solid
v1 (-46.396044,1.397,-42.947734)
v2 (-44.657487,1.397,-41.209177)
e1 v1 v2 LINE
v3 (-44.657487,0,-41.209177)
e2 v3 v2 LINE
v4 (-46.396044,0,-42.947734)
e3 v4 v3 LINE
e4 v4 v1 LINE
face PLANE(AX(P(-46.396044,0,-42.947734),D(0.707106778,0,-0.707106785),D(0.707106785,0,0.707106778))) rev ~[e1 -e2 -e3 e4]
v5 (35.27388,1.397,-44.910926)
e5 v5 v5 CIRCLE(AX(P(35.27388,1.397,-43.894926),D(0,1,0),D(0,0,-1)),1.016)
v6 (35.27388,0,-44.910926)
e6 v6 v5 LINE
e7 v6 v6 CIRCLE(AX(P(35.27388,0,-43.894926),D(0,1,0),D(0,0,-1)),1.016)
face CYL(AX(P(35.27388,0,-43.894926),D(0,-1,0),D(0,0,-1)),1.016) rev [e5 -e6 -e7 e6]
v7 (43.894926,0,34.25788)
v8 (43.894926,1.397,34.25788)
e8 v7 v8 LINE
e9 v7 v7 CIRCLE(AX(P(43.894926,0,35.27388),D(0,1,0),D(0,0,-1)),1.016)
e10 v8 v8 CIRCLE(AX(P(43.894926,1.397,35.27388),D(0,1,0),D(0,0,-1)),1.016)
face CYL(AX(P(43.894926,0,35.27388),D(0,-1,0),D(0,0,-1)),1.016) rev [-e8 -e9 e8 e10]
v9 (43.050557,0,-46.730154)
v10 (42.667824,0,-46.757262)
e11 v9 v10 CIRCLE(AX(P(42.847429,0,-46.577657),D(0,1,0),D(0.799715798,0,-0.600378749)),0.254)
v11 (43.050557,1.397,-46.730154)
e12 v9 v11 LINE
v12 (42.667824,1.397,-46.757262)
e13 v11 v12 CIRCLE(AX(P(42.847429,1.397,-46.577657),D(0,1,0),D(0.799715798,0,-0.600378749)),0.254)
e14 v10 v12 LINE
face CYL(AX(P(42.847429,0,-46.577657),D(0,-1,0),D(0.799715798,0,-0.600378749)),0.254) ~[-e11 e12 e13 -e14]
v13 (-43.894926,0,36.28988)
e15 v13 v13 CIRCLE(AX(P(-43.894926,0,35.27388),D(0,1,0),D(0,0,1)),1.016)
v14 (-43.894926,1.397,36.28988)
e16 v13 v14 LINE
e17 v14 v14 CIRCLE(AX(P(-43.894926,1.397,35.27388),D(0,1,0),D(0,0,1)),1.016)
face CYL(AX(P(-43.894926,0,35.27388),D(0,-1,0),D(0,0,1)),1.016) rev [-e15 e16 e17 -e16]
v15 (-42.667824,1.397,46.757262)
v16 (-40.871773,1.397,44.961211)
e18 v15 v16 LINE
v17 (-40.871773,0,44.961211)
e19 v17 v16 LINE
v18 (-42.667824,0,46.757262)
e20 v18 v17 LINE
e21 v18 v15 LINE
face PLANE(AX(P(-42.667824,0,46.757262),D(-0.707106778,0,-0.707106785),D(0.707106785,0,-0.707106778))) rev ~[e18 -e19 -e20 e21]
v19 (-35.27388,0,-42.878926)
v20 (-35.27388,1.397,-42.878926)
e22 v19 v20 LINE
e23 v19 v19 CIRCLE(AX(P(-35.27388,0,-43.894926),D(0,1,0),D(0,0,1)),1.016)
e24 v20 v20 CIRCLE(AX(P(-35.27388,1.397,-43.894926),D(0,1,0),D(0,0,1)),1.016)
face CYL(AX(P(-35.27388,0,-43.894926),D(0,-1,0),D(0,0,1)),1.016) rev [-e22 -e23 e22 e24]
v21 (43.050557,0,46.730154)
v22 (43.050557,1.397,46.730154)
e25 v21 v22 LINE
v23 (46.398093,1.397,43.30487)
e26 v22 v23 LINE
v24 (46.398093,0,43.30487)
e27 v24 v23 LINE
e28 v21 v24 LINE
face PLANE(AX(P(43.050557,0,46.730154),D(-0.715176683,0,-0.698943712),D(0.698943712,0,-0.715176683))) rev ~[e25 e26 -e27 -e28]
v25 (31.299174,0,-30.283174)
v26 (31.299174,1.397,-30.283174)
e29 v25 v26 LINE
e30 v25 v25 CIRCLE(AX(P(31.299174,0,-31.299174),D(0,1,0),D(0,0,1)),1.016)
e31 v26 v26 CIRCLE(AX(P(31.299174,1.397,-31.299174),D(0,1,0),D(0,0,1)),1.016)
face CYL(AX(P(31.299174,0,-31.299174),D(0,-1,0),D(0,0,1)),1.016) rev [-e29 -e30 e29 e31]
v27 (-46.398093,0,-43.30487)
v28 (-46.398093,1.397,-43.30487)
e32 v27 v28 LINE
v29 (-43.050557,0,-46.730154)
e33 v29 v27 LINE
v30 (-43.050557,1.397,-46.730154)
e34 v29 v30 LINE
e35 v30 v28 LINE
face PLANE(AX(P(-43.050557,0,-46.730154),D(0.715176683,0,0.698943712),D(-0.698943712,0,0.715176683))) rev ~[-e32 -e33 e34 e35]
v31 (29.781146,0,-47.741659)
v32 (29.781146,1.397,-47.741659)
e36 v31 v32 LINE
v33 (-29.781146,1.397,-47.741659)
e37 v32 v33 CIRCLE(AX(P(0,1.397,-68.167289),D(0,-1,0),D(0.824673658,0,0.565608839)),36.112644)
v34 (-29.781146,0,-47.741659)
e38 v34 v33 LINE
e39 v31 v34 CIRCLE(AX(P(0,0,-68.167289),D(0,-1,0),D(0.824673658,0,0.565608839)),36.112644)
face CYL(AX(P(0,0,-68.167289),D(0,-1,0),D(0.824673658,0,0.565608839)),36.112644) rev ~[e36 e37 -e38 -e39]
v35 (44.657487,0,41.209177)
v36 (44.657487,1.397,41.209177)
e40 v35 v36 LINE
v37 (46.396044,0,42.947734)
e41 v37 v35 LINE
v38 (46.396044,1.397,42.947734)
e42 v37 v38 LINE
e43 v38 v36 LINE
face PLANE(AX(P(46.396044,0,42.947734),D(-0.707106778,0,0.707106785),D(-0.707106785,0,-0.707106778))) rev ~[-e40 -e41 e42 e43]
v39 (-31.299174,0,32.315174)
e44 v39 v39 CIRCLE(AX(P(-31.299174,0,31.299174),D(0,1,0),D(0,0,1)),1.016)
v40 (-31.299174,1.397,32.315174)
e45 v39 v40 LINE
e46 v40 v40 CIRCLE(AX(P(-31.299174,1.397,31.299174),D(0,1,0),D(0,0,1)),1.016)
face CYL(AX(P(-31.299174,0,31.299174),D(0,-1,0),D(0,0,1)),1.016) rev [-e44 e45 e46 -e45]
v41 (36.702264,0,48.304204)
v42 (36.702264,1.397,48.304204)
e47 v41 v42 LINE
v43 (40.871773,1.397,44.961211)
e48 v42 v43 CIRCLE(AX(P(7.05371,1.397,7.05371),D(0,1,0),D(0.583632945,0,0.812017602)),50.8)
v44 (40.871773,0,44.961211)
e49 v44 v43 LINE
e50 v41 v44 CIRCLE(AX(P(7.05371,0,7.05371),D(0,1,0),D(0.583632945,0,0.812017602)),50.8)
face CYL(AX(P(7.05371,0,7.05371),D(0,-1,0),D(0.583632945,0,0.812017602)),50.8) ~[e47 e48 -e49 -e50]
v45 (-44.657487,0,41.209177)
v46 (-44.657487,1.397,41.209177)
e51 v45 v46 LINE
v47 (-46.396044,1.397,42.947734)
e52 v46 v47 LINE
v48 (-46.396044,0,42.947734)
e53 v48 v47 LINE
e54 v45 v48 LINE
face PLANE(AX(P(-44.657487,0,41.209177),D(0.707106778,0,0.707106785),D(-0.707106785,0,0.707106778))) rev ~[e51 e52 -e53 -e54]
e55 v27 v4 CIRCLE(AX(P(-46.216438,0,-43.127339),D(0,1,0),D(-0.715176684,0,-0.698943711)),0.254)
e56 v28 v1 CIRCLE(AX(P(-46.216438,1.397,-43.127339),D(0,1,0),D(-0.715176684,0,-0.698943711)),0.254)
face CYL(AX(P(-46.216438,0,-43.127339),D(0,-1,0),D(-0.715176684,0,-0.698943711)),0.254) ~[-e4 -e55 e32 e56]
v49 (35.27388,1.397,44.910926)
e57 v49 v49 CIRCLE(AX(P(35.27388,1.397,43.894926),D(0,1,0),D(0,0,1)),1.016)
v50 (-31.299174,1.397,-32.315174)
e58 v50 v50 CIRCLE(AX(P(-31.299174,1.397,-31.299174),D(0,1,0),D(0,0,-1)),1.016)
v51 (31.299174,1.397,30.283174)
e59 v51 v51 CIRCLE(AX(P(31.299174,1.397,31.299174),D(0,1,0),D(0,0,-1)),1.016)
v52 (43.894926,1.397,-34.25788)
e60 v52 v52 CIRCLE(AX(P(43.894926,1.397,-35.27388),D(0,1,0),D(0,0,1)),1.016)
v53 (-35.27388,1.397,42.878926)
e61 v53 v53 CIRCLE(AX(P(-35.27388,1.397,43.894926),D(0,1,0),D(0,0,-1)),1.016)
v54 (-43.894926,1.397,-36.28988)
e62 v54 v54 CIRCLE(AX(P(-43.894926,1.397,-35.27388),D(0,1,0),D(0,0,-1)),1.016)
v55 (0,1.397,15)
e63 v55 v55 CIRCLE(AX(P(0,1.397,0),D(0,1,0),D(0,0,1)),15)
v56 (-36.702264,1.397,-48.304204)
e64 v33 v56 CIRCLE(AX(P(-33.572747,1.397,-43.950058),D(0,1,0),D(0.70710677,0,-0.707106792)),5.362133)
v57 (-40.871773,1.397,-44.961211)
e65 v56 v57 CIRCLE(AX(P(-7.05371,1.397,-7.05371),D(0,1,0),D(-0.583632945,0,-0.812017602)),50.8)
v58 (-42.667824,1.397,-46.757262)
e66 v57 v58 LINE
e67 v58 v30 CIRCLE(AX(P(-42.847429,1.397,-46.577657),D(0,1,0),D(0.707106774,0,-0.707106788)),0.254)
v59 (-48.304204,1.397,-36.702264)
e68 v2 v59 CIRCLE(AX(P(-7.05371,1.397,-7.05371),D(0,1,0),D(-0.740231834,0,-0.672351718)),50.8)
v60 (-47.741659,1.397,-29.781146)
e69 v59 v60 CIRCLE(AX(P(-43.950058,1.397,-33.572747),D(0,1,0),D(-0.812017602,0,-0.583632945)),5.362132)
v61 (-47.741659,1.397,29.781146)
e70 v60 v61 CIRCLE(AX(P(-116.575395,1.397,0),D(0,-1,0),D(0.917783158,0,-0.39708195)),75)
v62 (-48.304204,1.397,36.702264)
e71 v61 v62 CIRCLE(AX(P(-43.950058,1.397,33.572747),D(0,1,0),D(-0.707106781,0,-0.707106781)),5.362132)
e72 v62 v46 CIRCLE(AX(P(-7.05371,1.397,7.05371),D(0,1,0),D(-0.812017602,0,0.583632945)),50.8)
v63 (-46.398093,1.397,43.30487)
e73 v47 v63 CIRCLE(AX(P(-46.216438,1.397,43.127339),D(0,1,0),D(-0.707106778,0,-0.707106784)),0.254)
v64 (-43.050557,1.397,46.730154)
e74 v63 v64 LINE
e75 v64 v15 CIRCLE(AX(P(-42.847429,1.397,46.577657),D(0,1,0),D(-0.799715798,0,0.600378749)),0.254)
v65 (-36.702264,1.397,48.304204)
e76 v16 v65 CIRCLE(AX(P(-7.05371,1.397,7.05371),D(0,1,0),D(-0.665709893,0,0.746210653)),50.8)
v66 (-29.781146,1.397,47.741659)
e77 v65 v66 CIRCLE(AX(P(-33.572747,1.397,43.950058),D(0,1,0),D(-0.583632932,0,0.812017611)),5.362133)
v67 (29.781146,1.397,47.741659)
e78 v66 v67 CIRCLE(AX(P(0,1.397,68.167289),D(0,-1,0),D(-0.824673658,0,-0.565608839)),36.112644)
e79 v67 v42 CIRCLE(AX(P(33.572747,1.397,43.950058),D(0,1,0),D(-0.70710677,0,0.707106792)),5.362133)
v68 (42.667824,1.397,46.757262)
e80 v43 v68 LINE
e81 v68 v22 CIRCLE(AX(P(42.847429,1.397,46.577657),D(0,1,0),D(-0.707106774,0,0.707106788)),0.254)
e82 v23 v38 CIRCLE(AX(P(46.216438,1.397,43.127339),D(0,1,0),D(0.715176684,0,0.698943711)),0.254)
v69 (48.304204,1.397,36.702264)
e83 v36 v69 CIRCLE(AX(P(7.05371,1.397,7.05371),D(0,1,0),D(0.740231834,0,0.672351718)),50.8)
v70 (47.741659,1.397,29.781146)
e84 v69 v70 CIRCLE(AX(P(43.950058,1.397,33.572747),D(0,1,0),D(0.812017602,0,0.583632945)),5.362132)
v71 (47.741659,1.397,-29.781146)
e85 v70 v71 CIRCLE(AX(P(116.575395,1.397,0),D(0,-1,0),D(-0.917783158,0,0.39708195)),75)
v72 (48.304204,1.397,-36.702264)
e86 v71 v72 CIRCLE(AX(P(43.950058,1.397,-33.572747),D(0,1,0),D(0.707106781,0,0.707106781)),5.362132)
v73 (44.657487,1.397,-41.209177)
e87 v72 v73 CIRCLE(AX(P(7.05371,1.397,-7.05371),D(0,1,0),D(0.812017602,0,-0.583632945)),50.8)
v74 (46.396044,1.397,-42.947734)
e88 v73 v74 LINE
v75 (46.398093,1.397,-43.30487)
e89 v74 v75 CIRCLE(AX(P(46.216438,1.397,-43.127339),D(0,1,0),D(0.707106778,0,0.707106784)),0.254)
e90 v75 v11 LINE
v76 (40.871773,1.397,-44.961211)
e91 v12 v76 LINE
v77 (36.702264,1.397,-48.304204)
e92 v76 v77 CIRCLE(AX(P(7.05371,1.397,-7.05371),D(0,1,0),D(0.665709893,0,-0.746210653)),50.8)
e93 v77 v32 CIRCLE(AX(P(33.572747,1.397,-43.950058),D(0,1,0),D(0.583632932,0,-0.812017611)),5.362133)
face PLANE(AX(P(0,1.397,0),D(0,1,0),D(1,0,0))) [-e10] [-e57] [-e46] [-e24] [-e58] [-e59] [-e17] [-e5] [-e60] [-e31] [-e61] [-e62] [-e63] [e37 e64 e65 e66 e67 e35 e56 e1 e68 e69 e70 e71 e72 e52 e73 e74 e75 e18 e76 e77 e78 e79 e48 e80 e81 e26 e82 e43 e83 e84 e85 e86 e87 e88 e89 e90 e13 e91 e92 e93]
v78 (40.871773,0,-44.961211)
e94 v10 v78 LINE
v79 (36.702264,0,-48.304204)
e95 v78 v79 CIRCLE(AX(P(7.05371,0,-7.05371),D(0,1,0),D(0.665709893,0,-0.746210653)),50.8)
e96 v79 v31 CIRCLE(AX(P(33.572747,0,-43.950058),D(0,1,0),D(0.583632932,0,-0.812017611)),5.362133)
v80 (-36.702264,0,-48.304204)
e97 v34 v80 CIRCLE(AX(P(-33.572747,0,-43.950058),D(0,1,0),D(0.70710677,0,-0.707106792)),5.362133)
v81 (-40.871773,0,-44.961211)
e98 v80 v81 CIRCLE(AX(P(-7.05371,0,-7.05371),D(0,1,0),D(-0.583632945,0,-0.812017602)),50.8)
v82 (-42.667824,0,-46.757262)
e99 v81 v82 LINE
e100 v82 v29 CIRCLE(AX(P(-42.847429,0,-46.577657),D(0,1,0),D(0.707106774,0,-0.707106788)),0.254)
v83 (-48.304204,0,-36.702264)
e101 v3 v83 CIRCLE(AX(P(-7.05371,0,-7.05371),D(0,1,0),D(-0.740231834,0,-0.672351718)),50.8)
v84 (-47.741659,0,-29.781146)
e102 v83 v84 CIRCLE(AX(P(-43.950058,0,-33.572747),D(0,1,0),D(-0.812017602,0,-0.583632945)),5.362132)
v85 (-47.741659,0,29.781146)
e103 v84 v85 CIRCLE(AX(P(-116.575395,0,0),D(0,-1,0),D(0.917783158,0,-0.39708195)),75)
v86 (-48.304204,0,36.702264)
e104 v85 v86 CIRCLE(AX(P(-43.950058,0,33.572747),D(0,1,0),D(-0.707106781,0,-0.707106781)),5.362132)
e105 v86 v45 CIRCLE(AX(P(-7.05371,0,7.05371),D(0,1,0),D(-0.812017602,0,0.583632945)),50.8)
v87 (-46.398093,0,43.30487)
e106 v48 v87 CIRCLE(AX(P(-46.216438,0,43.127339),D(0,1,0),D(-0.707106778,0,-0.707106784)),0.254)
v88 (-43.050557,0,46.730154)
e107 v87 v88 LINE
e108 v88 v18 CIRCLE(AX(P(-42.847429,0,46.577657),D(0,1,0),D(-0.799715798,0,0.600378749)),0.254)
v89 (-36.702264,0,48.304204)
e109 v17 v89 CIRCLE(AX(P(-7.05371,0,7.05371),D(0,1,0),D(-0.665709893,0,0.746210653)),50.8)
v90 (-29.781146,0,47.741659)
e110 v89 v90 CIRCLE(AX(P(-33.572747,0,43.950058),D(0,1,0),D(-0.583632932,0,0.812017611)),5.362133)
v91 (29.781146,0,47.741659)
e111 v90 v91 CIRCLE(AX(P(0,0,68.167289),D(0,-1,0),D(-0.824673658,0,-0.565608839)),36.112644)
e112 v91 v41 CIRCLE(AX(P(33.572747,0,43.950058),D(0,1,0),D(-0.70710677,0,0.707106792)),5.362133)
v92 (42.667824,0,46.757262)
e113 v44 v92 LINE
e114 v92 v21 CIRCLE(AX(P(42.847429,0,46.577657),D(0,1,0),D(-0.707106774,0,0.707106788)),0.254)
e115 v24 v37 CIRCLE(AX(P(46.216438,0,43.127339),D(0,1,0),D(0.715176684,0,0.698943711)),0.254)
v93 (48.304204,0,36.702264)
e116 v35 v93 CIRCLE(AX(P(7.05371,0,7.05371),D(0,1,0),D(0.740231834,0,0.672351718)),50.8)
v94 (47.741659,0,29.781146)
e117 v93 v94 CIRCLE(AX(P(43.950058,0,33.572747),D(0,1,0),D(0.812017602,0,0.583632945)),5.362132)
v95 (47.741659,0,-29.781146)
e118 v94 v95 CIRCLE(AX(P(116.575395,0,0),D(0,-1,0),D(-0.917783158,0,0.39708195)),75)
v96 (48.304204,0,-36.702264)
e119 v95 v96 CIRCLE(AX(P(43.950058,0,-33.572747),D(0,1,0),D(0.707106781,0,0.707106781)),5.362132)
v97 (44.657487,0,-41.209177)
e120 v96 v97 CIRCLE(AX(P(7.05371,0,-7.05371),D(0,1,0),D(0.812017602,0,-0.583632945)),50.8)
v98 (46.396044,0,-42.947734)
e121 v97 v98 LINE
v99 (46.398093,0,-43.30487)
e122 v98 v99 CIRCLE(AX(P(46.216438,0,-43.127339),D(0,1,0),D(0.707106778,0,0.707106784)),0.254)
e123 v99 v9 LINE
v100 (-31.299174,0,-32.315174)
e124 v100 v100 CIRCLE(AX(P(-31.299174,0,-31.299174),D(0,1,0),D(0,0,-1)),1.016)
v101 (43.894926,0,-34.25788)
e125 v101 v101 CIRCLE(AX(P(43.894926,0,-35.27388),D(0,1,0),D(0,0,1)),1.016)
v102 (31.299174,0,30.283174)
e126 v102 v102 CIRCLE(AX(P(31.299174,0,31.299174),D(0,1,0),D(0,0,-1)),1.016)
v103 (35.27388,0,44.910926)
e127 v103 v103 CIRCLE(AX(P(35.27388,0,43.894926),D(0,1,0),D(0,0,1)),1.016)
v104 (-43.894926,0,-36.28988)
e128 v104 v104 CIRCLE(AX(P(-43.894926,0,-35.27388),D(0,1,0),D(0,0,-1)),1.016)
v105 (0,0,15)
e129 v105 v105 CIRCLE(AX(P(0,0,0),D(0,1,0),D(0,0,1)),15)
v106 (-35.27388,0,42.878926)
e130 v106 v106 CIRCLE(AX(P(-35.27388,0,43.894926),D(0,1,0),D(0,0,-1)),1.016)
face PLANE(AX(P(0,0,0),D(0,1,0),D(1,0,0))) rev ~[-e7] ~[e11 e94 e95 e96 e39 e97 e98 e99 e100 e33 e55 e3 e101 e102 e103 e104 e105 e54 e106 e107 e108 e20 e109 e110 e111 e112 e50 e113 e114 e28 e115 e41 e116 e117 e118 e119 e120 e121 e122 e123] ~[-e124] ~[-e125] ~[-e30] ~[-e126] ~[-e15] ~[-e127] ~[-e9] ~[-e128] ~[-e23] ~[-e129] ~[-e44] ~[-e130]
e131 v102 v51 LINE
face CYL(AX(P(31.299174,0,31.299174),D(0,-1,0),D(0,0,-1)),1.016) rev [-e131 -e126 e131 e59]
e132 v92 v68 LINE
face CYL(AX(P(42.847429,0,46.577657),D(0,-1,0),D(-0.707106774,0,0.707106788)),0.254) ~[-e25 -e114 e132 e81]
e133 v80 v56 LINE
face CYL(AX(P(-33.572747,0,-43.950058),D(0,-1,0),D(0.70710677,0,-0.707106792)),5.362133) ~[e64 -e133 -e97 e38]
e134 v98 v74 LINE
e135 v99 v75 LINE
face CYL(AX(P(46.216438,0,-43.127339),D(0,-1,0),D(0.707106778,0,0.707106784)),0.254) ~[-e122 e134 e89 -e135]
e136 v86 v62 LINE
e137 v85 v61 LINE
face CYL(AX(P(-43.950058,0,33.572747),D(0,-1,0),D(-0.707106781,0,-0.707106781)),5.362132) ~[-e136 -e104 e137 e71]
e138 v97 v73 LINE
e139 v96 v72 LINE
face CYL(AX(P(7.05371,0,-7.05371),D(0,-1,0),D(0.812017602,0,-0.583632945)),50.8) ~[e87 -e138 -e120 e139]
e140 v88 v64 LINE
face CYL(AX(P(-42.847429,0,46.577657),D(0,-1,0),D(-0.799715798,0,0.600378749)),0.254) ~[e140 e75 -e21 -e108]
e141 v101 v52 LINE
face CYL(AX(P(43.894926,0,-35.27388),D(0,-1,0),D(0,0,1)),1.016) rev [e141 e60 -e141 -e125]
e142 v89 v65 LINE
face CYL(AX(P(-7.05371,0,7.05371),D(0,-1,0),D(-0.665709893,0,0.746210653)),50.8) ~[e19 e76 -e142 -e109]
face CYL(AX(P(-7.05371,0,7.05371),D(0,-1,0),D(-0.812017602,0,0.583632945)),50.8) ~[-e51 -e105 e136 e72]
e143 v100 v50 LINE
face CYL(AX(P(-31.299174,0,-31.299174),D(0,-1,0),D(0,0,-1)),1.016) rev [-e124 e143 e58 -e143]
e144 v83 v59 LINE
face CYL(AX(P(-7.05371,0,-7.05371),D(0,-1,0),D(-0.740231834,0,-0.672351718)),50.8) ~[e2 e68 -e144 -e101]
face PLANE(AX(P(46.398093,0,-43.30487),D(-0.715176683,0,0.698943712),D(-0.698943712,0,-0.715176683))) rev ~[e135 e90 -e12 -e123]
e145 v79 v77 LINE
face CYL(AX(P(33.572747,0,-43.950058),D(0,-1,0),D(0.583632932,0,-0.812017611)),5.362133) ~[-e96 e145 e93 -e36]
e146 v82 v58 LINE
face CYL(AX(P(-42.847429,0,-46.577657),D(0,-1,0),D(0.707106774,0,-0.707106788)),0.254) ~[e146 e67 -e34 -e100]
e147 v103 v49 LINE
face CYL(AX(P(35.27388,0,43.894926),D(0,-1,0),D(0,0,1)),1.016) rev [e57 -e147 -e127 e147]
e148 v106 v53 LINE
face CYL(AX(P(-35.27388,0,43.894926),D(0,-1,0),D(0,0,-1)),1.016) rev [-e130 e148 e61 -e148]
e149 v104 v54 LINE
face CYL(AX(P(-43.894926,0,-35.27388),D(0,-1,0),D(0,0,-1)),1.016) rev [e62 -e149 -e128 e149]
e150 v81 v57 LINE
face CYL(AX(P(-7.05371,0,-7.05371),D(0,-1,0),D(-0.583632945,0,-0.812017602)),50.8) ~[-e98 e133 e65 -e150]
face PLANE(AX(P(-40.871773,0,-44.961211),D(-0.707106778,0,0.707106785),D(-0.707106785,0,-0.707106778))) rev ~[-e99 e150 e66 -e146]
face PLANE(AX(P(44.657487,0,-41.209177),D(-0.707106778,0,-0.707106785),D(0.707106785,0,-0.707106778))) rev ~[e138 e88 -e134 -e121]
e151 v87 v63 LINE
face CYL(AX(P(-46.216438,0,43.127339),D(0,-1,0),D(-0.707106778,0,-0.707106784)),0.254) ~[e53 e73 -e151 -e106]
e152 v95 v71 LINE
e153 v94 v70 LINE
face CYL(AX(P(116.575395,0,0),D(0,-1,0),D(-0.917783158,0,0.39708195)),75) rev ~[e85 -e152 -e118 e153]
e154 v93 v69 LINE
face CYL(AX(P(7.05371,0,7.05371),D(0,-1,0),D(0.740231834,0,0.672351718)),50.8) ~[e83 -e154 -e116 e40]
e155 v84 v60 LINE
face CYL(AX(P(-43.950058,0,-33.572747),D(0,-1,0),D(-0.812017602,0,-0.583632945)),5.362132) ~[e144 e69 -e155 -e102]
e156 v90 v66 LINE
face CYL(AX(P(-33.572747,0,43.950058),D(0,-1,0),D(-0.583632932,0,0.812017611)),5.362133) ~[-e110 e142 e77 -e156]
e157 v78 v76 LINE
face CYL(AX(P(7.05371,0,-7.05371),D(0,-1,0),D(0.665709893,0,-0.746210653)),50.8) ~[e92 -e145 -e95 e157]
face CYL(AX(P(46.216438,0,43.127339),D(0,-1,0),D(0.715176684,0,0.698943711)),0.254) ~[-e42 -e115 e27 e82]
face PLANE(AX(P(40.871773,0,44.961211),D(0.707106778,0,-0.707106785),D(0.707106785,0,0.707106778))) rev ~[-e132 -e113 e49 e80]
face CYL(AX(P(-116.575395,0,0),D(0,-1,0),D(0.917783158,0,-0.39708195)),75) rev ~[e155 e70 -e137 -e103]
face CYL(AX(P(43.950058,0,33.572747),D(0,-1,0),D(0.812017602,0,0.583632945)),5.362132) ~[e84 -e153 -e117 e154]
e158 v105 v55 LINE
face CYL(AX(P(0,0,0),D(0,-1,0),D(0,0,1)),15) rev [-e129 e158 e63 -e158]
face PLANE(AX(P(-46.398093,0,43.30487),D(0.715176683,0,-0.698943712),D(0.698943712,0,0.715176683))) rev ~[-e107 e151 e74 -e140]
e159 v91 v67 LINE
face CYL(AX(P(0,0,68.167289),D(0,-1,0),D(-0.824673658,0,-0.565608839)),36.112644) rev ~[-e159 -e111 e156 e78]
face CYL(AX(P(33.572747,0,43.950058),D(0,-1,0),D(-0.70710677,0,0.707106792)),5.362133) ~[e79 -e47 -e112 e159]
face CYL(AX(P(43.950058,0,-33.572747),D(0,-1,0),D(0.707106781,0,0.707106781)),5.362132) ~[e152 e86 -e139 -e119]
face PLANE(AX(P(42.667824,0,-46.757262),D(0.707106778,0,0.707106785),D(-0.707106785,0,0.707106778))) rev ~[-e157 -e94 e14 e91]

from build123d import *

# Parameters (mm, degrees)
SKETCH1_R           = 1.015999988
SKETCH1_R_2         = 15
BOSS_EXTRUDE1_DEPTH = 1.397


with BuildPart() as part:
    # Sketch1 → Boss-Extrude1 (new body)
    with BuildSketch(Plane(origin=(0, 0, 0), x_dir=(1, 0, 0), z_dir=(0, 1, 0))):
        with BuildLine():
            Line((-44.657487237, -41.209177315), (-46.396043567, -42.947733627))
            ThreePointArc((-46.396043567, -42.947733627), (-46.470434262, -43.125880964), (-46.398093323, -43.304870453))
            Line((-46.398093323, -43.304870453), (-43.050556802, -46.730153525))
            ThreePointArc((-43.050556802, -46.730153525), (-42.865374815, -46.831022568), (-42.667823867, -46.757262447))
            Line((-42.667823867, -46.757262447), (-40.871772634, -44.961211232))
            ThreePointArc((-40.871772634, -44.961211232), (-38.831009245, -46.687575098), (-36.702263685, -48.30420423))
            ThreePointArc((-36.702263685, -48.30420423), (-33.138347002, -49.294565873), (-29.78114627, -47.741658512))
            ThreePointArc((-29.78114627, -47.741658512), (0, -32.054645119), (29.78114627, -47.741658512))
            ThreePointArc((29.78114627, -47.741658512), (33.138347002, -49.294565873), (36.702263685, -48.30420423))
            ThreePointArc((36.702263685, -48.30420423), (38.831009245, -46.687575098), (40.871772634, -44.961211232))
            Line((40.871772634, -44.961211232), (42.667823867, -46.757262447))
            ThreePointArc((42.667823867, -46.757262447), (42.865374815, -46.831022568), (43.050556802, -46.730153525))
            Line((43.050556802, -46.730153525), (46.398093323, -43.304870453))
            ThreePointArc((46.398093323, -43.304870453), (46.470434262, -43.125880964), (46.396043567, -42.947733627))
            Line((46.396043567, -42.947733627), (44.657487237, -41.209177315))
            ThreePointArc((44.657487237, -41.209177315), (46.545191357, -39.007785017), (48.30420423, -36.702263685))
            ThreePointArc((48.30420423, -36.702263685), (49.294565905, -33.13834702), (47.741658512, -29.78114627))
            ThreePointArc((47.741658512, -29.78114627), (41.575395348, 0), (47.741658512, 29.78114627))
            ThreePointArc((47.741658512, 29.78114627), (49.294565905, 33.13834702), (48.30420423, 36.702263685))
            ThreePointArc((48.30420423, 36.702263685), (46.545191357, 39.007785017), (44.657487237, 41.209177315))
            Line((44.657487237, 41.209177315), (46.396043567, 42.947733627))
            ThreePointArc((46.396043567, 42.947733627), (46.470434262, 43.125880964), (46.398093323, 43.304870453))
            Line((46.398093323, 43.304870453), (43.050556802, 46.730153525))
            ThreePointArc((43.050556802, 46.730153525), (42.865374815, 46.831022568), (42.667823867, 46.757262447))
            Line((42.667823867, 46.757262447), (40.871772634, 44.961211232))
            ThreePointArc((40.871772634, 44.961211232), (38.831009245, 46.687575098), (36.702263685, 48.30420423))
            ThreePointArc((36.702263685, 48.30420423), (33.138347002, 49.294565873), (29.78114627, 47.741658512))
            ThreePointArc((29.78114627, 47.741658512), (0, 32.054645119), (-29.78114627, 47.741658512))
            ThreePointArc((-29.78114627, 47.741658512), (-33.138347002, 49.294565873), (-36.702263685, 48.30420423))
            ThreePointArc((-36.702263685, 48.30420423), (-38.831009245, 46.687575098), (-40.871772634, 44.961211232))
            Line((-40.871772634, 44.961211232), (-42.667823867, 46.757262447))
            ThreePointArc((-42.667823867, 46.757262447), (-42.865374815, 46.831022568), (-43.050556802, 46.730153525))
            Line((-43.050556802, 46.730153525), (-46.398093323, 43.304870453))
            ThreePointArc((-46.398093323, 43.304870453), (-46.470434262, 43.125880964), (-46.396043567, 42.947733627))
            Line((-46.396043567, 42.947733627), (-44.657487237, 41.209177315))
            ThreePointArc((-44.657487237, 41.209177315), (-46.545191357, 39.007785017), (-48.30420423, 36.702263685))
            ThreePointArc((-48.30420423, 36.702263685), (-49.294565905, 33.13834702), (-47.741658512, 29.78114627))
            ThreePointArc((-47.741658512, 29.78114627), (-41.575395348, 0), (-47.741658512, -29.78114627))
            ThreePointArc((-47.741658512, -29.78114627), (-49.294565905, -33.13834702), (-48.30420423, -36.702263685))
            ThreePointArc((-48.30420423, -36.702263685), (-46.545191357, -39.007785017), (-44.657487237, -41.209177315))
        make_face()
        with Locations(Location((-35.273880272, -43.89492624, 0), (0, 0, 90))):
            Circle(SKETCH1_R, mode=Mode.SUBTRACT)
        with Locations(Location((-43.894926149, -35.273880364, 0), (0, 0, 270))):
            Circle(SKETCH1_R, mode=Mode.SUBTRACT)
        with Locations(Location((-31.299173944, -31.299174035, 0), (0, 0, 270))):
            Circle(SKETCH1_R, mode=Mode.SUBTRACT)
        with Locations(Location((43.894926149, -35.273880364, 0), (0, 0, 90))):
            Circle(SKETCH1_R, mode=Mode.SUBTRACT)
        with Locations(Location((35.273880272, -43.89492624, 0), (0, 0, 270))):
            Circle(SKETCH1_R, mode=Mode.SUBTRACT)
        with Locations(Location((31.299173944, -31.299174035, 0), (0, 0, 90))):
            Circle(SKETCH1_R, mode=Mode.SUBTRACT)
        with Locations(Location((-35.273880272, 43.89492624, 0), (0, 0, 270))):
            Circle(SKETCH1_R, mode=Mode.SUBTRACT)
        with Locations(Location((-31.299173944, 31.299174035, 0), (0, 0, 90))):
            Circle(SKETCH1_R, mode=Mode.SUBTRACT)
        with Locations(Location((-43.894926149, 35.273880364, 0), (0, 0, 90))):
            Circle(SKETCH1_R, mode=Mode.SUBTRACT)
        with Locations(Location((43.894926149, 35.273880364, 0), (0, 0, 270))):
            Circle(SKETCH1_R, mode=Mode.SUBTRACT)
        with Locations(Location((35.273880272, 43.89492624, 0), (0, 0, 90))):
            Circle(SKETCH1_R, mode=Mode.SUBTRACT)
        with Locations(Location((31.299173944, 31.299174035, 0), (0, 0, 270))):
            Circle(SKETCH1_R, mode=Mode.SUBTRACT)
        with Locations(Location((0, 0, 0), (0, 0, 270))):
            Circle(SKETCH1_R_2, mode=Mode.SUBTRACT)
    extrude(amount=BOSS_EXTRUDE1_DEPTH)


solid = part.part
